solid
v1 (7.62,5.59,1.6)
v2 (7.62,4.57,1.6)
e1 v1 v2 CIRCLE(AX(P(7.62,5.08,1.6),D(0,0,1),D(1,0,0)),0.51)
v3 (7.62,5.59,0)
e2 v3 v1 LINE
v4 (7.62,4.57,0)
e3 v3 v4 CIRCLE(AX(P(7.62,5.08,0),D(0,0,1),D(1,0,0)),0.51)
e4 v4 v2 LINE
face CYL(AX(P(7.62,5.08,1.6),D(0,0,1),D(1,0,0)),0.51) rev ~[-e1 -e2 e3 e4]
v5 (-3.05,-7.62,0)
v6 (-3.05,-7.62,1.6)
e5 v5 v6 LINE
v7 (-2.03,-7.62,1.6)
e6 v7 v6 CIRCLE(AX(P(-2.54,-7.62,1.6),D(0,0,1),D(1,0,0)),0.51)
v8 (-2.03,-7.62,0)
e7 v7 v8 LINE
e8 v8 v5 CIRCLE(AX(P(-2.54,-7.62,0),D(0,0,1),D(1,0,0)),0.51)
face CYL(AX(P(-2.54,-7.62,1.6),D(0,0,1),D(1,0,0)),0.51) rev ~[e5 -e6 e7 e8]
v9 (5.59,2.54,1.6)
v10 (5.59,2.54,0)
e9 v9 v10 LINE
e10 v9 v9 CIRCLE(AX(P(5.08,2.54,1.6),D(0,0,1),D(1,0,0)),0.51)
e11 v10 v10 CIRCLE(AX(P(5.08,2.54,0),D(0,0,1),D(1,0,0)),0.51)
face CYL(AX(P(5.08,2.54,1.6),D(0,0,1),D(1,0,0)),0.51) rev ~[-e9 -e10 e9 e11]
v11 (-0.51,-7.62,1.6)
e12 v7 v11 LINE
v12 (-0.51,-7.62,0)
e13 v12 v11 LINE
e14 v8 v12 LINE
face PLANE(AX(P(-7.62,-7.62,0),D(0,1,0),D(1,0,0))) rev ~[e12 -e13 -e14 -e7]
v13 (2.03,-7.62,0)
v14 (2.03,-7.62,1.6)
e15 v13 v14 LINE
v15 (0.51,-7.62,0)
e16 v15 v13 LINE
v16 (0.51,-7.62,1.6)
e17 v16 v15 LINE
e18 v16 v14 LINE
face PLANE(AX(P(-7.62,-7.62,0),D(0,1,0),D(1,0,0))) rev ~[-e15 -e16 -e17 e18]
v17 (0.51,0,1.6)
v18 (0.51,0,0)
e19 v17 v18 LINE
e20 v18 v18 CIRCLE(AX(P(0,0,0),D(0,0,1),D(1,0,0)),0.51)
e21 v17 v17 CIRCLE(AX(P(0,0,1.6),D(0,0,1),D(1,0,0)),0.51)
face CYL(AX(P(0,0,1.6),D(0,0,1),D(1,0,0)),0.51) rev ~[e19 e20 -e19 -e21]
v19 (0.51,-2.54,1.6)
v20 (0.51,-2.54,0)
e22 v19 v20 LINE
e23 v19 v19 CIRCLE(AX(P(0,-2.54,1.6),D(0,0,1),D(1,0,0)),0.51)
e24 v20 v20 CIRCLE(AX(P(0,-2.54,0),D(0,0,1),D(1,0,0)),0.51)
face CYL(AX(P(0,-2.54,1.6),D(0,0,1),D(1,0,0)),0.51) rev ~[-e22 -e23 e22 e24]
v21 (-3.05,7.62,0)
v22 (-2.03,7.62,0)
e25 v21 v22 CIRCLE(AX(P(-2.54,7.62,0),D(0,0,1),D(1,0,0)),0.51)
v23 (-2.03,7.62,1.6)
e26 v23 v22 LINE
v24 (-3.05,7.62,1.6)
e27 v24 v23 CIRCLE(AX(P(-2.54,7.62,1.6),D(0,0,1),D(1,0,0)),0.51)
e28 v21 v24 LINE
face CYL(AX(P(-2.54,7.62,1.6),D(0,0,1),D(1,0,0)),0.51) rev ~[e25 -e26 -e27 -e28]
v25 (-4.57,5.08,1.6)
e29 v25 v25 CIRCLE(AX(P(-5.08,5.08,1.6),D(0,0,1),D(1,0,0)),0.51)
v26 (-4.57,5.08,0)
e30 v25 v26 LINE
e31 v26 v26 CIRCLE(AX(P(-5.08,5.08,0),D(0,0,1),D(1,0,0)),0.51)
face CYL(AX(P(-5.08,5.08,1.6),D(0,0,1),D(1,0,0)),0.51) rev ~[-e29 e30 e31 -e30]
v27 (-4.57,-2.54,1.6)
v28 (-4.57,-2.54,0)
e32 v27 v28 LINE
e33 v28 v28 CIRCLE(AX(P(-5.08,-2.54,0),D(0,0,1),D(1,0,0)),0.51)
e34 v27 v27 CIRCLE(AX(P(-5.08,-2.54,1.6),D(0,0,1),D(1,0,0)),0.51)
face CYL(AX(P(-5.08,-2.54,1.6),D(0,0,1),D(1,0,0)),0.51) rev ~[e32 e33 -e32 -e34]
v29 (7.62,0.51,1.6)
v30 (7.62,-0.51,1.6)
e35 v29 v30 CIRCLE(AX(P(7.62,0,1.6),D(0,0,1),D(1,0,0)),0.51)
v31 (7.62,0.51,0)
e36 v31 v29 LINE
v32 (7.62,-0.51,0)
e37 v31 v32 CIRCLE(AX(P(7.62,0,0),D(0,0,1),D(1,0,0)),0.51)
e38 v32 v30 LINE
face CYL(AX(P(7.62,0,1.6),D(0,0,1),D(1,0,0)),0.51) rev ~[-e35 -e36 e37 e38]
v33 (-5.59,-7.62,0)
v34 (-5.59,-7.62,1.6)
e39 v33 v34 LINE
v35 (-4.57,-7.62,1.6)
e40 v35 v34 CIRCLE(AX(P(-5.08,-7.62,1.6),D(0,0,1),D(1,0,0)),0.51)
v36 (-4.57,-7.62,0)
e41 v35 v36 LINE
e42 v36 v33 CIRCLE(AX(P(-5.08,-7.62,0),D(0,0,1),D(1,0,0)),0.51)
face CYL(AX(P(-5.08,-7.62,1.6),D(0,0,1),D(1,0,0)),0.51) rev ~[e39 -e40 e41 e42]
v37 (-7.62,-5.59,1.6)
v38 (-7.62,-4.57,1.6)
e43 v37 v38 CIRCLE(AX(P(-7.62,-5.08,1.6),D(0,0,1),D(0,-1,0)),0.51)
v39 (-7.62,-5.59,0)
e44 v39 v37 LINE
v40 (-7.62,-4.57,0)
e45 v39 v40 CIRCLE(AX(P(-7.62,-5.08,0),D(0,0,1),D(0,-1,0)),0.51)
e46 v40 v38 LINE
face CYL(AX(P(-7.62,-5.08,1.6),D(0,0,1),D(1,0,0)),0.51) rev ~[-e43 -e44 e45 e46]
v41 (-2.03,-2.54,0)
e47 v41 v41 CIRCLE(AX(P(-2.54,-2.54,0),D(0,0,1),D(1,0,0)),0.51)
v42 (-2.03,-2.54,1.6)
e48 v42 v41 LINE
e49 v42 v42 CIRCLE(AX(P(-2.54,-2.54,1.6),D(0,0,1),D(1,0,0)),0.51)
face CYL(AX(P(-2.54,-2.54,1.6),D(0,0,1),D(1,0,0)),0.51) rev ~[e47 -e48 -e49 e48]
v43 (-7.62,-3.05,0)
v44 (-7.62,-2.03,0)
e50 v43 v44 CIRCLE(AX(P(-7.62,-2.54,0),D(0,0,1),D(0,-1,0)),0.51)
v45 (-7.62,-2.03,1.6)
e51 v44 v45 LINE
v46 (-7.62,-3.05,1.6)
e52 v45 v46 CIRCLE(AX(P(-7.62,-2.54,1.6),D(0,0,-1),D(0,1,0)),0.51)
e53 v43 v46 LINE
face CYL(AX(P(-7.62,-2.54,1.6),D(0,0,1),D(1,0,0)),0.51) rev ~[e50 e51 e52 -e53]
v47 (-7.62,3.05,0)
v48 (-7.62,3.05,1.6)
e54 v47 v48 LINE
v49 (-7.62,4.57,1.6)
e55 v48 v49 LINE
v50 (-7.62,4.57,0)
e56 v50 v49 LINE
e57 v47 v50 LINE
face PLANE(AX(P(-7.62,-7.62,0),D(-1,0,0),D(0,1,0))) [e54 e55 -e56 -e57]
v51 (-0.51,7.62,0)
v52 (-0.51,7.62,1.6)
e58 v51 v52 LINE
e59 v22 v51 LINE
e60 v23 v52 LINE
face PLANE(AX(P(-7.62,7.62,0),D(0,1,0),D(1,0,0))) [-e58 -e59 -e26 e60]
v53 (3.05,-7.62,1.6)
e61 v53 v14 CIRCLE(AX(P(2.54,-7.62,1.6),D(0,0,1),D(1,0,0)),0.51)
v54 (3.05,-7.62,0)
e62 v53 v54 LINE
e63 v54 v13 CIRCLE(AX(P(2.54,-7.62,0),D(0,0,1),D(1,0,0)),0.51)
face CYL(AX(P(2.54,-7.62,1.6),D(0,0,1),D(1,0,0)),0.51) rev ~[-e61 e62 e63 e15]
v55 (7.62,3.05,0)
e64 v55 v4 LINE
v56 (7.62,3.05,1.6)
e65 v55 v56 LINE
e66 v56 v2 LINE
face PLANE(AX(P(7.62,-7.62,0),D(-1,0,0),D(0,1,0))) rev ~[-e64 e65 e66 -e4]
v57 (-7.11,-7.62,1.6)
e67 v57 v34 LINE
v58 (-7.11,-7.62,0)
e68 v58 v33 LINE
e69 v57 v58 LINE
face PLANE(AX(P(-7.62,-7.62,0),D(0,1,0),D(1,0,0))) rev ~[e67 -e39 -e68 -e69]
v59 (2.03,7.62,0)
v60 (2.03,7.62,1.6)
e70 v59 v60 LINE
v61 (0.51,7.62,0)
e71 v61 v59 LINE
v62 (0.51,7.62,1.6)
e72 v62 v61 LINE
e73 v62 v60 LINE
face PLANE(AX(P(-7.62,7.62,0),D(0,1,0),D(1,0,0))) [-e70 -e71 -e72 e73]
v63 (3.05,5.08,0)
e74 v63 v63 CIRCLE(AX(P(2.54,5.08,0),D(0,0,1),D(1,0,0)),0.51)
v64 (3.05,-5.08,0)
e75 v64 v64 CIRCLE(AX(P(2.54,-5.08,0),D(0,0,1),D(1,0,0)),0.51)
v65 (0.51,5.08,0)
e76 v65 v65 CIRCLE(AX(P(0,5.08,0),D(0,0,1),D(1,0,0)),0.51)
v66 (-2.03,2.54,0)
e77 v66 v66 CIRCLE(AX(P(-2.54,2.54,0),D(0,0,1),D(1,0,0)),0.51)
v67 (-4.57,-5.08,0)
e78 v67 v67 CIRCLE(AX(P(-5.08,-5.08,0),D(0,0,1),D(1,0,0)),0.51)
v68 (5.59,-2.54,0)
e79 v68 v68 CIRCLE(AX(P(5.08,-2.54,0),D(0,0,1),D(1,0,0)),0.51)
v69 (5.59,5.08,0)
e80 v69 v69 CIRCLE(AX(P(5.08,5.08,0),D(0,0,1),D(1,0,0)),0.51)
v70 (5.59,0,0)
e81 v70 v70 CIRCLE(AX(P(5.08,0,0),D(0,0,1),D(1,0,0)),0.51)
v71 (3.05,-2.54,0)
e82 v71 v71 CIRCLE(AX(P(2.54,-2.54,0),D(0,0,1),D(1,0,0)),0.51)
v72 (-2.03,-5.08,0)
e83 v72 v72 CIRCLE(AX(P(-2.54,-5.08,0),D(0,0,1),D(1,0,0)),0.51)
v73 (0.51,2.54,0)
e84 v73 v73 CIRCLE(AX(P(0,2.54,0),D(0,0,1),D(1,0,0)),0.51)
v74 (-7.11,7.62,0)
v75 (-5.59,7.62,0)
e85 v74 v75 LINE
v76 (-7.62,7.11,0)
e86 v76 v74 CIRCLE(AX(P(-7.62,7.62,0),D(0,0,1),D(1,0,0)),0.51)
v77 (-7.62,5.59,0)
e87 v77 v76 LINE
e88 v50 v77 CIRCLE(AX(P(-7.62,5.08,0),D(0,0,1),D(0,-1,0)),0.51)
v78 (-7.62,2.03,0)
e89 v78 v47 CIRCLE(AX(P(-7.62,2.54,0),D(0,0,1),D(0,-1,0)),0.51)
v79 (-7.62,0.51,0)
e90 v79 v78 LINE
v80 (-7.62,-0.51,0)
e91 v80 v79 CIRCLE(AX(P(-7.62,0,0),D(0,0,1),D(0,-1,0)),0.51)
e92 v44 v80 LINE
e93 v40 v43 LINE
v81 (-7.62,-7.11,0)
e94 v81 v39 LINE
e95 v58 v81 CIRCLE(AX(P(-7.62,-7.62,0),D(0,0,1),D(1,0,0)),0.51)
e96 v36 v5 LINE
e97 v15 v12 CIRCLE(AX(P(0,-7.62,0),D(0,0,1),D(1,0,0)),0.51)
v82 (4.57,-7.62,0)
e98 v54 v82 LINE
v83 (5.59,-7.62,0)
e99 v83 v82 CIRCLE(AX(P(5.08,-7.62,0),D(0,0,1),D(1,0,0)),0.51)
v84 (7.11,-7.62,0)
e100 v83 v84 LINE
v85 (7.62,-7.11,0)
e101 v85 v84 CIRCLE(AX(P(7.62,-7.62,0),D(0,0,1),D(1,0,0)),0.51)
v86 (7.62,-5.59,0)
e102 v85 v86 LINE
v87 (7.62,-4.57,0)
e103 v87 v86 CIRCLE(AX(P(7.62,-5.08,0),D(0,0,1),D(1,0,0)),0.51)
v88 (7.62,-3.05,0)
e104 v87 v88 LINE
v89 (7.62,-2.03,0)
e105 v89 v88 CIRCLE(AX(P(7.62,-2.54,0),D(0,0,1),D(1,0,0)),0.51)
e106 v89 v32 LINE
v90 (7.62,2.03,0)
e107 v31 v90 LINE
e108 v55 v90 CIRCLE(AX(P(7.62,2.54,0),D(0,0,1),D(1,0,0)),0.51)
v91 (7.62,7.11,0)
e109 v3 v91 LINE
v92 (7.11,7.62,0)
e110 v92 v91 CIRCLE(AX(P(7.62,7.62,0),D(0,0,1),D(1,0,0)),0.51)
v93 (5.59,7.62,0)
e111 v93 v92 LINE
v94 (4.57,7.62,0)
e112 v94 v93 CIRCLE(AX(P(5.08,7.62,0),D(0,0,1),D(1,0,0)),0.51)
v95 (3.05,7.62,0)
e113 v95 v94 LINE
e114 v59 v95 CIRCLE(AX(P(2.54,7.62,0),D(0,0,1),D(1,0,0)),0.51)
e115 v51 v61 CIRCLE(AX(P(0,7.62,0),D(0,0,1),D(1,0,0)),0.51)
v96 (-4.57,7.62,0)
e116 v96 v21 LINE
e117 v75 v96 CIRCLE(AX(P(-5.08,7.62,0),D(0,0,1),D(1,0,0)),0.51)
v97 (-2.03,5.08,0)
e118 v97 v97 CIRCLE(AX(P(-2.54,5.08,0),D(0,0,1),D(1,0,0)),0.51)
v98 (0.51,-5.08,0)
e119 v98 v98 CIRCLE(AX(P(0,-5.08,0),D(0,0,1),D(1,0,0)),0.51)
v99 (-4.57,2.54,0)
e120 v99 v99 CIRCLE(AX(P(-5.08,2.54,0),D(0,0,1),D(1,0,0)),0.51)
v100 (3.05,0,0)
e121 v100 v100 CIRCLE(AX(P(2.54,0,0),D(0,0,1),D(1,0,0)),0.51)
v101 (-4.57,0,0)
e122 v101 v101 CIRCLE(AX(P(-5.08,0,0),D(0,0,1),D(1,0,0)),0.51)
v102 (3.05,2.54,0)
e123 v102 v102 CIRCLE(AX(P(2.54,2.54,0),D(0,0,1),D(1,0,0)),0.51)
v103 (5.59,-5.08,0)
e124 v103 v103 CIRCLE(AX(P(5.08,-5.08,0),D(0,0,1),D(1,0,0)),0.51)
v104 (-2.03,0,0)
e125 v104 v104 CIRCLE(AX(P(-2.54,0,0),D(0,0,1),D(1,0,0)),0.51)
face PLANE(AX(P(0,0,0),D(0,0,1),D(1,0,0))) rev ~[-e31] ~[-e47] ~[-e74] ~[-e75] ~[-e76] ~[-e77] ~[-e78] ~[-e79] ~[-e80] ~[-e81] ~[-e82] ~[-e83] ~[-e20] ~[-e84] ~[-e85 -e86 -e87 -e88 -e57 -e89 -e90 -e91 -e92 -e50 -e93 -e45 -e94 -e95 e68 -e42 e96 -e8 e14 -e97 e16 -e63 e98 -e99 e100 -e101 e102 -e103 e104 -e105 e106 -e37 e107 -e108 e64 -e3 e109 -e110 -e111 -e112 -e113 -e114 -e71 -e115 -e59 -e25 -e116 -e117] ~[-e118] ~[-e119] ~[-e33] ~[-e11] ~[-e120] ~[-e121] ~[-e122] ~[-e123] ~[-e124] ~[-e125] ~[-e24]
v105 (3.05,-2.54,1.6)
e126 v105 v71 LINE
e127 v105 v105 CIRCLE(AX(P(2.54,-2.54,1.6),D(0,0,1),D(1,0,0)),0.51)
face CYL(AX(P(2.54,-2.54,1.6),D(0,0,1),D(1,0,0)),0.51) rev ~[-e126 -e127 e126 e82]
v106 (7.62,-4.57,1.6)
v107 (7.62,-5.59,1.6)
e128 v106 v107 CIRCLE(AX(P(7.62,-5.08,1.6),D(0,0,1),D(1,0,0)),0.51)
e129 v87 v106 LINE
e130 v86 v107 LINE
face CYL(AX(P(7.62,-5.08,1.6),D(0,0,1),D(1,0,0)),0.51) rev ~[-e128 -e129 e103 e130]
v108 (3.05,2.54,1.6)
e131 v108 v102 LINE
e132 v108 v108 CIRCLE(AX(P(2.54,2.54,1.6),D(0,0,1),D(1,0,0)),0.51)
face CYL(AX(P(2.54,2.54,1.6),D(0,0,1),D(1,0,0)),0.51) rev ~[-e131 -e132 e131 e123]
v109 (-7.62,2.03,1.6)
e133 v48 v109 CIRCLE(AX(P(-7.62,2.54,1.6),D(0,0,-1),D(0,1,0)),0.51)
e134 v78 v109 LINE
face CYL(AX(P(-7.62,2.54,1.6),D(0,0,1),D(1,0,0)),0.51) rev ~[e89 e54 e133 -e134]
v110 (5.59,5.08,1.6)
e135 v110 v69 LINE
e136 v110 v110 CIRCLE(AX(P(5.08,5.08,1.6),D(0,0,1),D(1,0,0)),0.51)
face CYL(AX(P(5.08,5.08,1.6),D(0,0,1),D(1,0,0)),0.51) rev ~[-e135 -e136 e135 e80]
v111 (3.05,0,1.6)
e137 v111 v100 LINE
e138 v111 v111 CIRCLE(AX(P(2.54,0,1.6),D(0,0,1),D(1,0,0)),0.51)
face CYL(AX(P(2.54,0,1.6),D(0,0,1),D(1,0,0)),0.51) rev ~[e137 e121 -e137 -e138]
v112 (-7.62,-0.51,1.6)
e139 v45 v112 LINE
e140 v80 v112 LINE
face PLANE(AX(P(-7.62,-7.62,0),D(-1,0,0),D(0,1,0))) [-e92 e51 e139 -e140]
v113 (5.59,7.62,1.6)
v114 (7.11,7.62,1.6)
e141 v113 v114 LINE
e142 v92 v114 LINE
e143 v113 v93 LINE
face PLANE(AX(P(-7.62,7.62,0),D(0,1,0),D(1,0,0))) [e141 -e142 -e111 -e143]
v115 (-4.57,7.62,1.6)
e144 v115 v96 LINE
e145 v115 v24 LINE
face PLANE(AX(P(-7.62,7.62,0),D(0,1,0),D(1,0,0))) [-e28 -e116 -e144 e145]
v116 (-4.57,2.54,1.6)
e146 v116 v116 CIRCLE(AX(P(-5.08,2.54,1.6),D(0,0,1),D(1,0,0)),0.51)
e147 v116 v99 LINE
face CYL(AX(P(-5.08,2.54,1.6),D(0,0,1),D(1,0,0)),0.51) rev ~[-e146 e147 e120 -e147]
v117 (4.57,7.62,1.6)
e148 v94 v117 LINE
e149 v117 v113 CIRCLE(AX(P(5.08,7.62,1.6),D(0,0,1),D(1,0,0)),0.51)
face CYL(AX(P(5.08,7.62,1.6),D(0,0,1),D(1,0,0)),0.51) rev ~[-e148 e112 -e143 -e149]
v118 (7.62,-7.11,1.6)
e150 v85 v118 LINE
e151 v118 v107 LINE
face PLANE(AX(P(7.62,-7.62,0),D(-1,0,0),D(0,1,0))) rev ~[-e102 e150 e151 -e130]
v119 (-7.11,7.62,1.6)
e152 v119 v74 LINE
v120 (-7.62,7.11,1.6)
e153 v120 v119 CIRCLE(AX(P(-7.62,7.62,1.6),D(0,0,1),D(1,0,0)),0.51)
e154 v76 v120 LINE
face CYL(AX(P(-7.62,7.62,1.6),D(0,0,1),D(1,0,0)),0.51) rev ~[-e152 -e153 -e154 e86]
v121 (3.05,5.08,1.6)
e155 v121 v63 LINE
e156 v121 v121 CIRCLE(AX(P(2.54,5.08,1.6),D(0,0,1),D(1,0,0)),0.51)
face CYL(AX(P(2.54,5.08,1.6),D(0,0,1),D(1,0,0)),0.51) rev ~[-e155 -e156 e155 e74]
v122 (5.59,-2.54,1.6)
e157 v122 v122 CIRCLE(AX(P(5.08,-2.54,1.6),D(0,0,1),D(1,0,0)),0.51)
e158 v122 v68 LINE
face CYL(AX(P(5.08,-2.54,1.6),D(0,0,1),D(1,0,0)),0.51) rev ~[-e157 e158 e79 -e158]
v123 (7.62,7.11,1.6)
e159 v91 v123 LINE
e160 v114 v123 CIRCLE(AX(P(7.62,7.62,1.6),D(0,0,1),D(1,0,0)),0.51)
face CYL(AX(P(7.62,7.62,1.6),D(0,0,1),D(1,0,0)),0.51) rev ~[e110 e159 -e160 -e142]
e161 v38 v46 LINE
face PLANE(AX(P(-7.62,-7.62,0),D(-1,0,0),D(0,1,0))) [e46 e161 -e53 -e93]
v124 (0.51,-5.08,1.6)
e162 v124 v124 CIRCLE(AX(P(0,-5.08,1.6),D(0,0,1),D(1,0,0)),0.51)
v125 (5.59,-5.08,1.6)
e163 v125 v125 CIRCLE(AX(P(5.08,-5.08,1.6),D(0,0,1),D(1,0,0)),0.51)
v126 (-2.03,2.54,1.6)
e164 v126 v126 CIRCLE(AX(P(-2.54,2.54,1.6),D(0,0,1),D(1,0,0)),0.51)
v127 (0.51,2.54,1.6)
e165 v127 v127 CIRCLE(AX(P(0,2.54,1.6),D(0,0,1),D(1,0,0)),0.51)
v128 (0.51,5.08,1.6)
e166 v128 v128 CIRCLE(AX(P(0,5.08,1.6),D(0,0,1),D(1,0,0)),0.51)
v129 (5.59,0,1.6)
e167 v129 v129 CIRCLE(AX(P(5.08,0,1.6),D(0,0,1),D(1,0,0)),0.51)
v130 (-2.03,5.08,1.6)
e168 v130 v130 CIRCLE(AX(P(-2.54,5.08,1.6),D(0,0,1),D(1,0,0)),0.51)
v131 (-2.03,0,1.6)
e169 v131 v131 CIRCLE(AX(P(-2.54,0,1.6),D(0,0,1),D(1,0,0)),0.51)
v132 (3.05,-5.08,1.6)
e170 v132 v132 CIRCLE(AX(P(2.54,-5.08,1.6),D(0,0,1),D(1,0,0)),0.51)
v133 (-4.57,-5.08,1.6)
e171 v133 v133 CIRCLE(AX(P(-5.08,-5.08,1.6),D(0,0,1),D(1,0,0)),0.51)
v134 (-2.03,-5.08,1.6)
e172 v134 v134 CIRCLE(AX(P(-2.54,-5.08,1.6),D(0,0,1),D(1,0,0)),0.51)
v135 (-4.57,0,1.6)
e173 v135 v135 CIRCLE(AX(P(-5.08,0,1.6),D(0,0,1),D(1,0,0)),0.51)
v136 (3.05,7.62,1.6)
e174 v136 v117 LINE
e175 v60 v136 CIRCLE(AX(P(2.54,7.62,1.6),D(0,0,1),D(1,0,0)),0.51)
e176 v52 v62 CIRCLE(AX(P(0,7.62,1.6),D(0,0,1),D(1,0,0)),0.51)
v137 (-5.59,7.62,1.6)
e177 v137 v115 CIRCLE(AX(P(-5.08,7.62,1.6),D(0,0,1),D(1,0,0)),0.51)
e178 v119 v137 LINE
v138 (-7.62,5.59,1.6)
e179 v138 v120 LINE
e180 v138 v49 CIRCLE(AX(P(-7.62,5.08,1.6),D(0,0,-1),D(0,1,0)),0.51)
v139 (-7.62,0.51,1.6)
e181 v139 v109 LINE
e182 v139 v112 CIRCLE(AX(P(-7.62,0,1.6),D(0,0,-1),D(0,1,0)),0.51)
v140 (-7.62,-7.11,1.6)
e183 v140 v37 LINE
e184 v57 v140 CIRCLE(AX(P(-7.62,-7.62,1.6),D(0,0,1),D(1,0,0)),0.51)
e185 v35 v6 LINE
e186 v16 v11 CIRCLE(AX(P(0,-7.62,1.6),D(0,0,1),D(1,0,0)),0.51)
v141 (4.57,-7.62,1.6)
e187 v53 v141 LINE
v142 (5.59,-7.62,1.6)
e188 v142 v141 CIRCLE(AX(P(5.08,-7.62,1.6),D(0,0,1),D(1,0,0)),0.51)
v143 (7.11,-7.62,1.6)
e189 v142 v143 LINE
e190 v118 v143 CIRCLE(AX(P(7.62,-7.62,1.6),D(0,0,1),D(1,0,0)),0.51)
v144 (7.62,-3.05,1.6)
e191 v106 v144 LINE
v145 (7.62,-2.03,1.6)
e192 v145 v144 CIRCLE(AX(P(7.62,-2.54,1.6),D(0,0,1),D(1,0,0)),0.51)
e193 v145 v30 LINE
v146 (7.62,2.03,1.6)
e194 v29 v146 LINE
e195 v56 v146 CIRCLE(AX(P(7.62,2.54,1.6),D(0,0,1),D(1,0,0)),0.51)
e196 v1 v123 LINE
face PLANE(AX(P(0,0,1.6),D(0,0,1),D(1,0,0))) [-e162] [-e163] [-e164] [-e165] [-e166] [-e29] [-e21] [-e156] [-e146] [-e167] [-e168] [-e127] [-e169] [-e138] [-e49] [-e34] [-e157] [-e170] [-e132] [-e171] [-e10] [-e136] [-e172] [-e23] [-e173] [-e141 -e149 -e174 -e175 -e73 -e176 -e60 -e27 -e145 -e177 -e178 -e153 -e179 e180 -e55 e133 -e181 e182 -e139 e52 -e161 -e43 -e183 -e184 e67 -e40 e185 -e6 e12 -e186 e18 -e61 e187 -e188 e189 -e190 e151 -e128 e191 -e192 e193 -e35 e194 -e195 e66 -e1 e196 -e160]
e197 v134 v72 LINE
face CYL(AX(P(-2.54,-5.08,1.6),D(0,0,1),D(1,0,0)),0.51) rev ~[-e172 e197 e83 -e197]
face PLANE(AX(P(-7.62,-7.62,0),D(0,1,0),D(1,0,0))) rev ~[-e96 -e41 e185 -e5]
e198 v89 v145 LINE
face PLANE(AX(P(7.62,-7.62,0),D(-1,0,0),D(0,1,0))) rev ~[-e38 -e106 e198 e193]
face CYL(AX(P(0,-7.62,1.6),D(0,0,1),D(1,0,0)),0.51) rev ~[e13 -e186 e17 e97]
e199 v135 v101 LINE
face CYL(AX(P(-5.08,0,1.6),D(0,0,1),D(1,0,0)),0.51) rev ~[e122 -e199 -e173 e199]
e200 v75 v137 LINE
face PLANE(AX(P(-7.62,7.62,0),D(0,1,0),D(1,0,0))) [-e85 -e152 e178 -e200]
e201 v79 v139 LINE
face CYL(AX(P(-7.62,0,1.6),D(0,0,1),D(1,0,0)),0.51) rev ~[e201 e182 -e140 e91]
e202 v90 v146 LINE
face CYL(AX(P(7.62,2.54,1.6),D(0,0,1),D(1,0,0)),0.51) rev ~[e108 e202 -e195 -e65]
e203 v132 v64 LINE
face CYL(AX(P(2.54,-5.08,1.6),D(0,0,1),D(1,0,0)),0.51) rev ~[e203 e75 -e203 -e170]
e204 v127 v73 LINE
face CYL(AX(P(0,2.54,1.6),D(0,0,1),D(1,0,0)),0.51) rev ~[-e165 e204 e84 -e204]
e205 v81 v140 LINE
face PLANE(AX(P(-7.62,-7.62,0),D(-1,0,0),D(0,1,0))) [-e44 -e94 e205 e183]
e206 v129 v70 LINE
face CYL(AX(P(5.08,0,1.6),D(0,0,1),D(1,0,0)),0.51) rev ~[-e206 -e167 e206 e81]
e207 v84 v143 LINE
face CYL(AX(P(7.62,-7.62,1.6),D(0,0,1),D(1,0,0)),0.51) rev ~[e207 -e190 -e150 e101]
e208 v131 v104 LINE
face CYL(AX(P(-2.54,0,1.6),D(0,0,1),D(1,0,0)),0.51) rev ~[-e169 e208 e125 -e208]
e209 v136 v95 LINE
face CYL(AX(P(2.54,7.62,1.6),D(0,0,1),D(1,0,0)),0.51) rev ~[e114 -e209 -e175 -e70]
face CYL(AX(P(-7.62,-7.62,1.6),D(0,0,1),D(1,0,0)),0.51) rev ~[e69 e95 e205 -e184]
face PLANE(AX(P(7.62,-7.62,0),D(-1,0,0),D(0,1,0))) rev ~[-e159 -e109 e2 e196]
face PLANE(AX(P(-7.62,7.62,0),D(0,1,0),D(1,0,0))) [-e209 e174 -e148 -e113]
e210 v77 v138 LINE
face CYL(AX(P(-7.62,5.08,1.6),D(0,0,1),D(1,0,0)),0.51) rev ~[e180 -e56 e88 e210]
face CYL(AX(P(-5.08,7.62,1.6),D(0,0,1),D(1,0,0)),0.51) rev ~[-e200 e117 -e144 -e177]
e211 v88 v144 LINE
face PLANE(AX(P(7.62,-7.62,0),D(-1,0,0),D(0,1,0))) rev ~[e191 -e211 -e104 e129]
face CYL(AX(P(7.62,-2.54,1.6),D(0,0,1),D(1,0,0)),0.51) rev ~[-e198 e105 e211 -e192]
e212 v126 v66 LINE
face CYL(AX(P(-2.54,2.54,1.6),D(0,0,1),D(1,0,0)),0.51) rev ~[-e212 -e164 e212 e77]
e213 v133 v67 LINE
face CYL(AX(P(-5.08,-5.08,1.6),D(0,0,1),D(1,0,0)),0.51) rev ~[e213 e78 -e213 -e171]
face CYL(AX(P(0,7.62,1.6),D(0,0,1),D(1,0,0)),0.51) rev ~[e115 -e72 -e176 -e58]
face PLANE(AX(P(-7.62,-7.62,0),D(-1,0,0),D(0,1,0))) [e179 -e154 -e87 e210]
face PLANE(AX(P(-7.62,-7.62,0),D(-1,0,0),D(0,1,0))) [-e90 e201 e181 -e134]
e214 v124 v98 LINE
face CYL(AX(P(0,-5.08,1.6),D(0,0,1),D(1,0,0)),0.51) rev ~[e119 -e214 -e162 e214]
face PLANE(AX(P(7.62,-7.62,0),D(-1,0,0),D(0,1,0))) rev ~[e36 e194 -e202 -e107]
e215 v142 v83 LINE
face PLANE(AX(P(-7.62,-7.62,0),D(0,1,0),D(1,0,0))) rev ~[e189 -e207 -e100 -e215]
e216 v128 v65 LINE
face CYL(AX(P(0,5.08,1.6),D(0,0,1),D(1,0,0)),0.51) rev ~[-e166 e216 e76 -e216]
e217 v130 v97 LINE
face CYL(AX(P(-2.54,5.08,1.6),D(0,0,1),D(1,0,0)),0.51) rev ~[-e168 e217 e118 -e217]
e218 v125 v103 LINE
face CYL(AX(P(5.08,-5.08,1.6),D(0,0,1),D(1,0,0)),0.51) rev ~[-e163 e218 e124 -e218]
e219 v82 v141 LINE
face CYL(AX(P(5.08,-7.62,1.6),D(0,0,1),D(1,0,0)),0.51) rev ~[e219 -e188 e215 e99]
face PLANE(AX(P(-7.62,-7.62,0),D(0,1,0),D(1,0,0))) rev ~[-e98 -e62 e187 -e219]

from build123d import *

# Parameters (mm, degrees)
SKETCH_W                     = 15.24
SKETCH_H                     = 15.24
PAD_DEPTH                    = 1.6
SKETCH001_R                  = 0.51
POCKET_DEPTH                 = 44.824845
SKETCH001_LINEARPATTERN_2_R  = 0.51
POCKET_LINEARPATTERN_2_DEPTH = 44.824845
SKETCH001_LINEARPATTERN_3_R  = 0.51
POCKET_LINEARPATTERN_3_DEPTH = 44.824845
SKETCH001_LINEARPATTERN_4_R  = 0.51
POCKET_LINEARPATTERN_4_DEPTH = 44.824845
SKETCH001_LINEARPATTERN_5_R  = 0.51
POCKET_LINEARPATTERN_5_DEPTH = 44.824845
SKETCH001_LINEARPATTERN_6_R  = 0.51
POCKET_LINEARPATTERN_6_DEPTH = 44.824845
SKETCH001_LINEARPATTERN_7_R  = 0.51
POCKET_LINEARPATTERN_7_DEPTH = 44.824845
LINEARPATTERN003_COUNT       = 7
LINEARPATTERN003_PITCH       = 2.54


with BuildPart() as part:
    # Sketch → Pad (new body)
    with BuildSketch(Plane.XY):
        Rectangle(SKETCH_W, SKETCH_H)
    extrude(amount=PAD_DEPTH)

    # Sketch001 → Pocket (cut, through all)
    with BuildSketch(Plane.XY.offset(1.6)):
        with Locations((-7.62, 7.62)):
            Circle(SKETCH001_R)
    pocket = extrude(amount=-POCKET_DEPTH, mode=Mode.SUBTRACT)

    # Sketch001 LinearPattern 2 → Pocket LinearPattern 2 (cut, through all)
    with BuildSketch(Plane(origin=(2.54, 0, 1.6), x_dir=(1, 0, 0), z_dir=(0, 0, 1))):
        with Locations((-7.62, 7.62)):
            Circle(SKETCH001_LINEARPATTERN_2_R)
    pocket_linearpattern_2 = extrude(amount=-POCKET_LINEARPATTERN_2_DEPTH, mode=Mode.SUBTRACT)

    # Sketch001 LinearPattern 3 → Pocket LinearPattern 3 (cut, through all)
    with BuildSketch(Plane(origin=(5.08, 0, 1.6), x_dir=(1, 0, 0), z_dir=(0, 0, 1))):
        with Locations((-7.62, 7.62)):
            Circle(SKETCH001_LINEARPATTERN_3_R)
    pocket_linearpattern_3 = extrude(amount=-POCKET_LINEARPATTERN_3_DEPTH, mode=Mode.SUBTRACT)

    # Sketch001 LinearPattern 4 → Pocket LinearPattern 4 (cut, through all)
    with BuildSketch(Plane(origin=(7.62, 0, 1.6), x_dir=(1, 0, 0), z_dir=(0, 0, 1))):
        with Locations((-7.62, 7.62)):
            Circle(SKETCH001_LINEARPATTERN_4_R)
    pocket_linearpattern_4 = extrude(amount=-POCKET_LINEARPATTERN_4_DEPTH, mode=Mode.SUBTRACT)

    # Sketch001 LinearPattern 5 → Pocket LinearPattern 5 (cut, through all)
    with BuildSketch(Plane(origin=(10.16, 0, 1.6), x_dir=(1, 0, 0), z_dir=(0, 0, 1))):
        with Locations((-7.62, 7.62)):
            Circle(SKETCH001_LINEARPATTERN_5_R)
    pocket_linearpattern_5 = extrude(amount=-POCKET_LINEARPATTERN_5_DEPTH, mode=Mode.SUBTRACT)

    # Sketch001 LinearPattern 6 → Pocket LinearPattern 6 (cut, through all)
    with BuildSketch(Plane(origin=(12.7, 0, 1.6), x_dir=(1, 0, 0), z_dir=(0, 0, 1))):
        with Locations((-7.62, 7.62)):
            Circle(SKETCH001_LINEARPATTERN_6_R)
    pocket_linearpattern_6 = extrude(amount=-POCKET_LINEARPATTERN_6_DEPTH, mode=Mode.SUBTRACT)

    # Sketch001 LinearPattern 7 → Pocket LinearPattern 7 (cut, through all)
    with BuildSketch(Plane(origin=(15.24, 0, 1.6), x_dir=(1, 0, 0), z_dir=(0, 0, 1))):
        with Locations((-7.62, 7.62)):
            Circle(SKETCH001_LINEARPATTERN_7_R)
    pocket_linearpattern_7 = extrude(amount=-POCKET_LINEARPATTERN_7_DEPTH, mode=Mode.SUBTRACT)

    # LinearPattern003: Pocket, Pocket LinearPattern 2, Pocket LinearPattern 3, Pocket LinearPattern 4, Pocket LinearPattern 5, Pocket LinearPattern 6, Pocket LinearPattern 7 ×7
    with Locations(*[(0, -i * LINEARPATTERN003_PITCH, 0) for i in range(1, LINEARPATTERN003_COUNT)]):
        add(pocket, mode=Mode.SUBTRACT)
        add(pocket_linearpattern_2, mode=Mode.SUBTRACT)
        add(pocket_linearpattern_3, mode=Mode.SUBTRACT)
        add(pocket_linearpattern_4, mode=Mode.SUBTRACT)
        add(pocket_linearpattern_5, mode=Mode.SUBTRACT)
        add(pocket_linearpattern_6, mode=Mode.SUBTRACT)
        add(pocket_linearpattern_7, mode=Mode.SUBTRACT)


solid = part.part
